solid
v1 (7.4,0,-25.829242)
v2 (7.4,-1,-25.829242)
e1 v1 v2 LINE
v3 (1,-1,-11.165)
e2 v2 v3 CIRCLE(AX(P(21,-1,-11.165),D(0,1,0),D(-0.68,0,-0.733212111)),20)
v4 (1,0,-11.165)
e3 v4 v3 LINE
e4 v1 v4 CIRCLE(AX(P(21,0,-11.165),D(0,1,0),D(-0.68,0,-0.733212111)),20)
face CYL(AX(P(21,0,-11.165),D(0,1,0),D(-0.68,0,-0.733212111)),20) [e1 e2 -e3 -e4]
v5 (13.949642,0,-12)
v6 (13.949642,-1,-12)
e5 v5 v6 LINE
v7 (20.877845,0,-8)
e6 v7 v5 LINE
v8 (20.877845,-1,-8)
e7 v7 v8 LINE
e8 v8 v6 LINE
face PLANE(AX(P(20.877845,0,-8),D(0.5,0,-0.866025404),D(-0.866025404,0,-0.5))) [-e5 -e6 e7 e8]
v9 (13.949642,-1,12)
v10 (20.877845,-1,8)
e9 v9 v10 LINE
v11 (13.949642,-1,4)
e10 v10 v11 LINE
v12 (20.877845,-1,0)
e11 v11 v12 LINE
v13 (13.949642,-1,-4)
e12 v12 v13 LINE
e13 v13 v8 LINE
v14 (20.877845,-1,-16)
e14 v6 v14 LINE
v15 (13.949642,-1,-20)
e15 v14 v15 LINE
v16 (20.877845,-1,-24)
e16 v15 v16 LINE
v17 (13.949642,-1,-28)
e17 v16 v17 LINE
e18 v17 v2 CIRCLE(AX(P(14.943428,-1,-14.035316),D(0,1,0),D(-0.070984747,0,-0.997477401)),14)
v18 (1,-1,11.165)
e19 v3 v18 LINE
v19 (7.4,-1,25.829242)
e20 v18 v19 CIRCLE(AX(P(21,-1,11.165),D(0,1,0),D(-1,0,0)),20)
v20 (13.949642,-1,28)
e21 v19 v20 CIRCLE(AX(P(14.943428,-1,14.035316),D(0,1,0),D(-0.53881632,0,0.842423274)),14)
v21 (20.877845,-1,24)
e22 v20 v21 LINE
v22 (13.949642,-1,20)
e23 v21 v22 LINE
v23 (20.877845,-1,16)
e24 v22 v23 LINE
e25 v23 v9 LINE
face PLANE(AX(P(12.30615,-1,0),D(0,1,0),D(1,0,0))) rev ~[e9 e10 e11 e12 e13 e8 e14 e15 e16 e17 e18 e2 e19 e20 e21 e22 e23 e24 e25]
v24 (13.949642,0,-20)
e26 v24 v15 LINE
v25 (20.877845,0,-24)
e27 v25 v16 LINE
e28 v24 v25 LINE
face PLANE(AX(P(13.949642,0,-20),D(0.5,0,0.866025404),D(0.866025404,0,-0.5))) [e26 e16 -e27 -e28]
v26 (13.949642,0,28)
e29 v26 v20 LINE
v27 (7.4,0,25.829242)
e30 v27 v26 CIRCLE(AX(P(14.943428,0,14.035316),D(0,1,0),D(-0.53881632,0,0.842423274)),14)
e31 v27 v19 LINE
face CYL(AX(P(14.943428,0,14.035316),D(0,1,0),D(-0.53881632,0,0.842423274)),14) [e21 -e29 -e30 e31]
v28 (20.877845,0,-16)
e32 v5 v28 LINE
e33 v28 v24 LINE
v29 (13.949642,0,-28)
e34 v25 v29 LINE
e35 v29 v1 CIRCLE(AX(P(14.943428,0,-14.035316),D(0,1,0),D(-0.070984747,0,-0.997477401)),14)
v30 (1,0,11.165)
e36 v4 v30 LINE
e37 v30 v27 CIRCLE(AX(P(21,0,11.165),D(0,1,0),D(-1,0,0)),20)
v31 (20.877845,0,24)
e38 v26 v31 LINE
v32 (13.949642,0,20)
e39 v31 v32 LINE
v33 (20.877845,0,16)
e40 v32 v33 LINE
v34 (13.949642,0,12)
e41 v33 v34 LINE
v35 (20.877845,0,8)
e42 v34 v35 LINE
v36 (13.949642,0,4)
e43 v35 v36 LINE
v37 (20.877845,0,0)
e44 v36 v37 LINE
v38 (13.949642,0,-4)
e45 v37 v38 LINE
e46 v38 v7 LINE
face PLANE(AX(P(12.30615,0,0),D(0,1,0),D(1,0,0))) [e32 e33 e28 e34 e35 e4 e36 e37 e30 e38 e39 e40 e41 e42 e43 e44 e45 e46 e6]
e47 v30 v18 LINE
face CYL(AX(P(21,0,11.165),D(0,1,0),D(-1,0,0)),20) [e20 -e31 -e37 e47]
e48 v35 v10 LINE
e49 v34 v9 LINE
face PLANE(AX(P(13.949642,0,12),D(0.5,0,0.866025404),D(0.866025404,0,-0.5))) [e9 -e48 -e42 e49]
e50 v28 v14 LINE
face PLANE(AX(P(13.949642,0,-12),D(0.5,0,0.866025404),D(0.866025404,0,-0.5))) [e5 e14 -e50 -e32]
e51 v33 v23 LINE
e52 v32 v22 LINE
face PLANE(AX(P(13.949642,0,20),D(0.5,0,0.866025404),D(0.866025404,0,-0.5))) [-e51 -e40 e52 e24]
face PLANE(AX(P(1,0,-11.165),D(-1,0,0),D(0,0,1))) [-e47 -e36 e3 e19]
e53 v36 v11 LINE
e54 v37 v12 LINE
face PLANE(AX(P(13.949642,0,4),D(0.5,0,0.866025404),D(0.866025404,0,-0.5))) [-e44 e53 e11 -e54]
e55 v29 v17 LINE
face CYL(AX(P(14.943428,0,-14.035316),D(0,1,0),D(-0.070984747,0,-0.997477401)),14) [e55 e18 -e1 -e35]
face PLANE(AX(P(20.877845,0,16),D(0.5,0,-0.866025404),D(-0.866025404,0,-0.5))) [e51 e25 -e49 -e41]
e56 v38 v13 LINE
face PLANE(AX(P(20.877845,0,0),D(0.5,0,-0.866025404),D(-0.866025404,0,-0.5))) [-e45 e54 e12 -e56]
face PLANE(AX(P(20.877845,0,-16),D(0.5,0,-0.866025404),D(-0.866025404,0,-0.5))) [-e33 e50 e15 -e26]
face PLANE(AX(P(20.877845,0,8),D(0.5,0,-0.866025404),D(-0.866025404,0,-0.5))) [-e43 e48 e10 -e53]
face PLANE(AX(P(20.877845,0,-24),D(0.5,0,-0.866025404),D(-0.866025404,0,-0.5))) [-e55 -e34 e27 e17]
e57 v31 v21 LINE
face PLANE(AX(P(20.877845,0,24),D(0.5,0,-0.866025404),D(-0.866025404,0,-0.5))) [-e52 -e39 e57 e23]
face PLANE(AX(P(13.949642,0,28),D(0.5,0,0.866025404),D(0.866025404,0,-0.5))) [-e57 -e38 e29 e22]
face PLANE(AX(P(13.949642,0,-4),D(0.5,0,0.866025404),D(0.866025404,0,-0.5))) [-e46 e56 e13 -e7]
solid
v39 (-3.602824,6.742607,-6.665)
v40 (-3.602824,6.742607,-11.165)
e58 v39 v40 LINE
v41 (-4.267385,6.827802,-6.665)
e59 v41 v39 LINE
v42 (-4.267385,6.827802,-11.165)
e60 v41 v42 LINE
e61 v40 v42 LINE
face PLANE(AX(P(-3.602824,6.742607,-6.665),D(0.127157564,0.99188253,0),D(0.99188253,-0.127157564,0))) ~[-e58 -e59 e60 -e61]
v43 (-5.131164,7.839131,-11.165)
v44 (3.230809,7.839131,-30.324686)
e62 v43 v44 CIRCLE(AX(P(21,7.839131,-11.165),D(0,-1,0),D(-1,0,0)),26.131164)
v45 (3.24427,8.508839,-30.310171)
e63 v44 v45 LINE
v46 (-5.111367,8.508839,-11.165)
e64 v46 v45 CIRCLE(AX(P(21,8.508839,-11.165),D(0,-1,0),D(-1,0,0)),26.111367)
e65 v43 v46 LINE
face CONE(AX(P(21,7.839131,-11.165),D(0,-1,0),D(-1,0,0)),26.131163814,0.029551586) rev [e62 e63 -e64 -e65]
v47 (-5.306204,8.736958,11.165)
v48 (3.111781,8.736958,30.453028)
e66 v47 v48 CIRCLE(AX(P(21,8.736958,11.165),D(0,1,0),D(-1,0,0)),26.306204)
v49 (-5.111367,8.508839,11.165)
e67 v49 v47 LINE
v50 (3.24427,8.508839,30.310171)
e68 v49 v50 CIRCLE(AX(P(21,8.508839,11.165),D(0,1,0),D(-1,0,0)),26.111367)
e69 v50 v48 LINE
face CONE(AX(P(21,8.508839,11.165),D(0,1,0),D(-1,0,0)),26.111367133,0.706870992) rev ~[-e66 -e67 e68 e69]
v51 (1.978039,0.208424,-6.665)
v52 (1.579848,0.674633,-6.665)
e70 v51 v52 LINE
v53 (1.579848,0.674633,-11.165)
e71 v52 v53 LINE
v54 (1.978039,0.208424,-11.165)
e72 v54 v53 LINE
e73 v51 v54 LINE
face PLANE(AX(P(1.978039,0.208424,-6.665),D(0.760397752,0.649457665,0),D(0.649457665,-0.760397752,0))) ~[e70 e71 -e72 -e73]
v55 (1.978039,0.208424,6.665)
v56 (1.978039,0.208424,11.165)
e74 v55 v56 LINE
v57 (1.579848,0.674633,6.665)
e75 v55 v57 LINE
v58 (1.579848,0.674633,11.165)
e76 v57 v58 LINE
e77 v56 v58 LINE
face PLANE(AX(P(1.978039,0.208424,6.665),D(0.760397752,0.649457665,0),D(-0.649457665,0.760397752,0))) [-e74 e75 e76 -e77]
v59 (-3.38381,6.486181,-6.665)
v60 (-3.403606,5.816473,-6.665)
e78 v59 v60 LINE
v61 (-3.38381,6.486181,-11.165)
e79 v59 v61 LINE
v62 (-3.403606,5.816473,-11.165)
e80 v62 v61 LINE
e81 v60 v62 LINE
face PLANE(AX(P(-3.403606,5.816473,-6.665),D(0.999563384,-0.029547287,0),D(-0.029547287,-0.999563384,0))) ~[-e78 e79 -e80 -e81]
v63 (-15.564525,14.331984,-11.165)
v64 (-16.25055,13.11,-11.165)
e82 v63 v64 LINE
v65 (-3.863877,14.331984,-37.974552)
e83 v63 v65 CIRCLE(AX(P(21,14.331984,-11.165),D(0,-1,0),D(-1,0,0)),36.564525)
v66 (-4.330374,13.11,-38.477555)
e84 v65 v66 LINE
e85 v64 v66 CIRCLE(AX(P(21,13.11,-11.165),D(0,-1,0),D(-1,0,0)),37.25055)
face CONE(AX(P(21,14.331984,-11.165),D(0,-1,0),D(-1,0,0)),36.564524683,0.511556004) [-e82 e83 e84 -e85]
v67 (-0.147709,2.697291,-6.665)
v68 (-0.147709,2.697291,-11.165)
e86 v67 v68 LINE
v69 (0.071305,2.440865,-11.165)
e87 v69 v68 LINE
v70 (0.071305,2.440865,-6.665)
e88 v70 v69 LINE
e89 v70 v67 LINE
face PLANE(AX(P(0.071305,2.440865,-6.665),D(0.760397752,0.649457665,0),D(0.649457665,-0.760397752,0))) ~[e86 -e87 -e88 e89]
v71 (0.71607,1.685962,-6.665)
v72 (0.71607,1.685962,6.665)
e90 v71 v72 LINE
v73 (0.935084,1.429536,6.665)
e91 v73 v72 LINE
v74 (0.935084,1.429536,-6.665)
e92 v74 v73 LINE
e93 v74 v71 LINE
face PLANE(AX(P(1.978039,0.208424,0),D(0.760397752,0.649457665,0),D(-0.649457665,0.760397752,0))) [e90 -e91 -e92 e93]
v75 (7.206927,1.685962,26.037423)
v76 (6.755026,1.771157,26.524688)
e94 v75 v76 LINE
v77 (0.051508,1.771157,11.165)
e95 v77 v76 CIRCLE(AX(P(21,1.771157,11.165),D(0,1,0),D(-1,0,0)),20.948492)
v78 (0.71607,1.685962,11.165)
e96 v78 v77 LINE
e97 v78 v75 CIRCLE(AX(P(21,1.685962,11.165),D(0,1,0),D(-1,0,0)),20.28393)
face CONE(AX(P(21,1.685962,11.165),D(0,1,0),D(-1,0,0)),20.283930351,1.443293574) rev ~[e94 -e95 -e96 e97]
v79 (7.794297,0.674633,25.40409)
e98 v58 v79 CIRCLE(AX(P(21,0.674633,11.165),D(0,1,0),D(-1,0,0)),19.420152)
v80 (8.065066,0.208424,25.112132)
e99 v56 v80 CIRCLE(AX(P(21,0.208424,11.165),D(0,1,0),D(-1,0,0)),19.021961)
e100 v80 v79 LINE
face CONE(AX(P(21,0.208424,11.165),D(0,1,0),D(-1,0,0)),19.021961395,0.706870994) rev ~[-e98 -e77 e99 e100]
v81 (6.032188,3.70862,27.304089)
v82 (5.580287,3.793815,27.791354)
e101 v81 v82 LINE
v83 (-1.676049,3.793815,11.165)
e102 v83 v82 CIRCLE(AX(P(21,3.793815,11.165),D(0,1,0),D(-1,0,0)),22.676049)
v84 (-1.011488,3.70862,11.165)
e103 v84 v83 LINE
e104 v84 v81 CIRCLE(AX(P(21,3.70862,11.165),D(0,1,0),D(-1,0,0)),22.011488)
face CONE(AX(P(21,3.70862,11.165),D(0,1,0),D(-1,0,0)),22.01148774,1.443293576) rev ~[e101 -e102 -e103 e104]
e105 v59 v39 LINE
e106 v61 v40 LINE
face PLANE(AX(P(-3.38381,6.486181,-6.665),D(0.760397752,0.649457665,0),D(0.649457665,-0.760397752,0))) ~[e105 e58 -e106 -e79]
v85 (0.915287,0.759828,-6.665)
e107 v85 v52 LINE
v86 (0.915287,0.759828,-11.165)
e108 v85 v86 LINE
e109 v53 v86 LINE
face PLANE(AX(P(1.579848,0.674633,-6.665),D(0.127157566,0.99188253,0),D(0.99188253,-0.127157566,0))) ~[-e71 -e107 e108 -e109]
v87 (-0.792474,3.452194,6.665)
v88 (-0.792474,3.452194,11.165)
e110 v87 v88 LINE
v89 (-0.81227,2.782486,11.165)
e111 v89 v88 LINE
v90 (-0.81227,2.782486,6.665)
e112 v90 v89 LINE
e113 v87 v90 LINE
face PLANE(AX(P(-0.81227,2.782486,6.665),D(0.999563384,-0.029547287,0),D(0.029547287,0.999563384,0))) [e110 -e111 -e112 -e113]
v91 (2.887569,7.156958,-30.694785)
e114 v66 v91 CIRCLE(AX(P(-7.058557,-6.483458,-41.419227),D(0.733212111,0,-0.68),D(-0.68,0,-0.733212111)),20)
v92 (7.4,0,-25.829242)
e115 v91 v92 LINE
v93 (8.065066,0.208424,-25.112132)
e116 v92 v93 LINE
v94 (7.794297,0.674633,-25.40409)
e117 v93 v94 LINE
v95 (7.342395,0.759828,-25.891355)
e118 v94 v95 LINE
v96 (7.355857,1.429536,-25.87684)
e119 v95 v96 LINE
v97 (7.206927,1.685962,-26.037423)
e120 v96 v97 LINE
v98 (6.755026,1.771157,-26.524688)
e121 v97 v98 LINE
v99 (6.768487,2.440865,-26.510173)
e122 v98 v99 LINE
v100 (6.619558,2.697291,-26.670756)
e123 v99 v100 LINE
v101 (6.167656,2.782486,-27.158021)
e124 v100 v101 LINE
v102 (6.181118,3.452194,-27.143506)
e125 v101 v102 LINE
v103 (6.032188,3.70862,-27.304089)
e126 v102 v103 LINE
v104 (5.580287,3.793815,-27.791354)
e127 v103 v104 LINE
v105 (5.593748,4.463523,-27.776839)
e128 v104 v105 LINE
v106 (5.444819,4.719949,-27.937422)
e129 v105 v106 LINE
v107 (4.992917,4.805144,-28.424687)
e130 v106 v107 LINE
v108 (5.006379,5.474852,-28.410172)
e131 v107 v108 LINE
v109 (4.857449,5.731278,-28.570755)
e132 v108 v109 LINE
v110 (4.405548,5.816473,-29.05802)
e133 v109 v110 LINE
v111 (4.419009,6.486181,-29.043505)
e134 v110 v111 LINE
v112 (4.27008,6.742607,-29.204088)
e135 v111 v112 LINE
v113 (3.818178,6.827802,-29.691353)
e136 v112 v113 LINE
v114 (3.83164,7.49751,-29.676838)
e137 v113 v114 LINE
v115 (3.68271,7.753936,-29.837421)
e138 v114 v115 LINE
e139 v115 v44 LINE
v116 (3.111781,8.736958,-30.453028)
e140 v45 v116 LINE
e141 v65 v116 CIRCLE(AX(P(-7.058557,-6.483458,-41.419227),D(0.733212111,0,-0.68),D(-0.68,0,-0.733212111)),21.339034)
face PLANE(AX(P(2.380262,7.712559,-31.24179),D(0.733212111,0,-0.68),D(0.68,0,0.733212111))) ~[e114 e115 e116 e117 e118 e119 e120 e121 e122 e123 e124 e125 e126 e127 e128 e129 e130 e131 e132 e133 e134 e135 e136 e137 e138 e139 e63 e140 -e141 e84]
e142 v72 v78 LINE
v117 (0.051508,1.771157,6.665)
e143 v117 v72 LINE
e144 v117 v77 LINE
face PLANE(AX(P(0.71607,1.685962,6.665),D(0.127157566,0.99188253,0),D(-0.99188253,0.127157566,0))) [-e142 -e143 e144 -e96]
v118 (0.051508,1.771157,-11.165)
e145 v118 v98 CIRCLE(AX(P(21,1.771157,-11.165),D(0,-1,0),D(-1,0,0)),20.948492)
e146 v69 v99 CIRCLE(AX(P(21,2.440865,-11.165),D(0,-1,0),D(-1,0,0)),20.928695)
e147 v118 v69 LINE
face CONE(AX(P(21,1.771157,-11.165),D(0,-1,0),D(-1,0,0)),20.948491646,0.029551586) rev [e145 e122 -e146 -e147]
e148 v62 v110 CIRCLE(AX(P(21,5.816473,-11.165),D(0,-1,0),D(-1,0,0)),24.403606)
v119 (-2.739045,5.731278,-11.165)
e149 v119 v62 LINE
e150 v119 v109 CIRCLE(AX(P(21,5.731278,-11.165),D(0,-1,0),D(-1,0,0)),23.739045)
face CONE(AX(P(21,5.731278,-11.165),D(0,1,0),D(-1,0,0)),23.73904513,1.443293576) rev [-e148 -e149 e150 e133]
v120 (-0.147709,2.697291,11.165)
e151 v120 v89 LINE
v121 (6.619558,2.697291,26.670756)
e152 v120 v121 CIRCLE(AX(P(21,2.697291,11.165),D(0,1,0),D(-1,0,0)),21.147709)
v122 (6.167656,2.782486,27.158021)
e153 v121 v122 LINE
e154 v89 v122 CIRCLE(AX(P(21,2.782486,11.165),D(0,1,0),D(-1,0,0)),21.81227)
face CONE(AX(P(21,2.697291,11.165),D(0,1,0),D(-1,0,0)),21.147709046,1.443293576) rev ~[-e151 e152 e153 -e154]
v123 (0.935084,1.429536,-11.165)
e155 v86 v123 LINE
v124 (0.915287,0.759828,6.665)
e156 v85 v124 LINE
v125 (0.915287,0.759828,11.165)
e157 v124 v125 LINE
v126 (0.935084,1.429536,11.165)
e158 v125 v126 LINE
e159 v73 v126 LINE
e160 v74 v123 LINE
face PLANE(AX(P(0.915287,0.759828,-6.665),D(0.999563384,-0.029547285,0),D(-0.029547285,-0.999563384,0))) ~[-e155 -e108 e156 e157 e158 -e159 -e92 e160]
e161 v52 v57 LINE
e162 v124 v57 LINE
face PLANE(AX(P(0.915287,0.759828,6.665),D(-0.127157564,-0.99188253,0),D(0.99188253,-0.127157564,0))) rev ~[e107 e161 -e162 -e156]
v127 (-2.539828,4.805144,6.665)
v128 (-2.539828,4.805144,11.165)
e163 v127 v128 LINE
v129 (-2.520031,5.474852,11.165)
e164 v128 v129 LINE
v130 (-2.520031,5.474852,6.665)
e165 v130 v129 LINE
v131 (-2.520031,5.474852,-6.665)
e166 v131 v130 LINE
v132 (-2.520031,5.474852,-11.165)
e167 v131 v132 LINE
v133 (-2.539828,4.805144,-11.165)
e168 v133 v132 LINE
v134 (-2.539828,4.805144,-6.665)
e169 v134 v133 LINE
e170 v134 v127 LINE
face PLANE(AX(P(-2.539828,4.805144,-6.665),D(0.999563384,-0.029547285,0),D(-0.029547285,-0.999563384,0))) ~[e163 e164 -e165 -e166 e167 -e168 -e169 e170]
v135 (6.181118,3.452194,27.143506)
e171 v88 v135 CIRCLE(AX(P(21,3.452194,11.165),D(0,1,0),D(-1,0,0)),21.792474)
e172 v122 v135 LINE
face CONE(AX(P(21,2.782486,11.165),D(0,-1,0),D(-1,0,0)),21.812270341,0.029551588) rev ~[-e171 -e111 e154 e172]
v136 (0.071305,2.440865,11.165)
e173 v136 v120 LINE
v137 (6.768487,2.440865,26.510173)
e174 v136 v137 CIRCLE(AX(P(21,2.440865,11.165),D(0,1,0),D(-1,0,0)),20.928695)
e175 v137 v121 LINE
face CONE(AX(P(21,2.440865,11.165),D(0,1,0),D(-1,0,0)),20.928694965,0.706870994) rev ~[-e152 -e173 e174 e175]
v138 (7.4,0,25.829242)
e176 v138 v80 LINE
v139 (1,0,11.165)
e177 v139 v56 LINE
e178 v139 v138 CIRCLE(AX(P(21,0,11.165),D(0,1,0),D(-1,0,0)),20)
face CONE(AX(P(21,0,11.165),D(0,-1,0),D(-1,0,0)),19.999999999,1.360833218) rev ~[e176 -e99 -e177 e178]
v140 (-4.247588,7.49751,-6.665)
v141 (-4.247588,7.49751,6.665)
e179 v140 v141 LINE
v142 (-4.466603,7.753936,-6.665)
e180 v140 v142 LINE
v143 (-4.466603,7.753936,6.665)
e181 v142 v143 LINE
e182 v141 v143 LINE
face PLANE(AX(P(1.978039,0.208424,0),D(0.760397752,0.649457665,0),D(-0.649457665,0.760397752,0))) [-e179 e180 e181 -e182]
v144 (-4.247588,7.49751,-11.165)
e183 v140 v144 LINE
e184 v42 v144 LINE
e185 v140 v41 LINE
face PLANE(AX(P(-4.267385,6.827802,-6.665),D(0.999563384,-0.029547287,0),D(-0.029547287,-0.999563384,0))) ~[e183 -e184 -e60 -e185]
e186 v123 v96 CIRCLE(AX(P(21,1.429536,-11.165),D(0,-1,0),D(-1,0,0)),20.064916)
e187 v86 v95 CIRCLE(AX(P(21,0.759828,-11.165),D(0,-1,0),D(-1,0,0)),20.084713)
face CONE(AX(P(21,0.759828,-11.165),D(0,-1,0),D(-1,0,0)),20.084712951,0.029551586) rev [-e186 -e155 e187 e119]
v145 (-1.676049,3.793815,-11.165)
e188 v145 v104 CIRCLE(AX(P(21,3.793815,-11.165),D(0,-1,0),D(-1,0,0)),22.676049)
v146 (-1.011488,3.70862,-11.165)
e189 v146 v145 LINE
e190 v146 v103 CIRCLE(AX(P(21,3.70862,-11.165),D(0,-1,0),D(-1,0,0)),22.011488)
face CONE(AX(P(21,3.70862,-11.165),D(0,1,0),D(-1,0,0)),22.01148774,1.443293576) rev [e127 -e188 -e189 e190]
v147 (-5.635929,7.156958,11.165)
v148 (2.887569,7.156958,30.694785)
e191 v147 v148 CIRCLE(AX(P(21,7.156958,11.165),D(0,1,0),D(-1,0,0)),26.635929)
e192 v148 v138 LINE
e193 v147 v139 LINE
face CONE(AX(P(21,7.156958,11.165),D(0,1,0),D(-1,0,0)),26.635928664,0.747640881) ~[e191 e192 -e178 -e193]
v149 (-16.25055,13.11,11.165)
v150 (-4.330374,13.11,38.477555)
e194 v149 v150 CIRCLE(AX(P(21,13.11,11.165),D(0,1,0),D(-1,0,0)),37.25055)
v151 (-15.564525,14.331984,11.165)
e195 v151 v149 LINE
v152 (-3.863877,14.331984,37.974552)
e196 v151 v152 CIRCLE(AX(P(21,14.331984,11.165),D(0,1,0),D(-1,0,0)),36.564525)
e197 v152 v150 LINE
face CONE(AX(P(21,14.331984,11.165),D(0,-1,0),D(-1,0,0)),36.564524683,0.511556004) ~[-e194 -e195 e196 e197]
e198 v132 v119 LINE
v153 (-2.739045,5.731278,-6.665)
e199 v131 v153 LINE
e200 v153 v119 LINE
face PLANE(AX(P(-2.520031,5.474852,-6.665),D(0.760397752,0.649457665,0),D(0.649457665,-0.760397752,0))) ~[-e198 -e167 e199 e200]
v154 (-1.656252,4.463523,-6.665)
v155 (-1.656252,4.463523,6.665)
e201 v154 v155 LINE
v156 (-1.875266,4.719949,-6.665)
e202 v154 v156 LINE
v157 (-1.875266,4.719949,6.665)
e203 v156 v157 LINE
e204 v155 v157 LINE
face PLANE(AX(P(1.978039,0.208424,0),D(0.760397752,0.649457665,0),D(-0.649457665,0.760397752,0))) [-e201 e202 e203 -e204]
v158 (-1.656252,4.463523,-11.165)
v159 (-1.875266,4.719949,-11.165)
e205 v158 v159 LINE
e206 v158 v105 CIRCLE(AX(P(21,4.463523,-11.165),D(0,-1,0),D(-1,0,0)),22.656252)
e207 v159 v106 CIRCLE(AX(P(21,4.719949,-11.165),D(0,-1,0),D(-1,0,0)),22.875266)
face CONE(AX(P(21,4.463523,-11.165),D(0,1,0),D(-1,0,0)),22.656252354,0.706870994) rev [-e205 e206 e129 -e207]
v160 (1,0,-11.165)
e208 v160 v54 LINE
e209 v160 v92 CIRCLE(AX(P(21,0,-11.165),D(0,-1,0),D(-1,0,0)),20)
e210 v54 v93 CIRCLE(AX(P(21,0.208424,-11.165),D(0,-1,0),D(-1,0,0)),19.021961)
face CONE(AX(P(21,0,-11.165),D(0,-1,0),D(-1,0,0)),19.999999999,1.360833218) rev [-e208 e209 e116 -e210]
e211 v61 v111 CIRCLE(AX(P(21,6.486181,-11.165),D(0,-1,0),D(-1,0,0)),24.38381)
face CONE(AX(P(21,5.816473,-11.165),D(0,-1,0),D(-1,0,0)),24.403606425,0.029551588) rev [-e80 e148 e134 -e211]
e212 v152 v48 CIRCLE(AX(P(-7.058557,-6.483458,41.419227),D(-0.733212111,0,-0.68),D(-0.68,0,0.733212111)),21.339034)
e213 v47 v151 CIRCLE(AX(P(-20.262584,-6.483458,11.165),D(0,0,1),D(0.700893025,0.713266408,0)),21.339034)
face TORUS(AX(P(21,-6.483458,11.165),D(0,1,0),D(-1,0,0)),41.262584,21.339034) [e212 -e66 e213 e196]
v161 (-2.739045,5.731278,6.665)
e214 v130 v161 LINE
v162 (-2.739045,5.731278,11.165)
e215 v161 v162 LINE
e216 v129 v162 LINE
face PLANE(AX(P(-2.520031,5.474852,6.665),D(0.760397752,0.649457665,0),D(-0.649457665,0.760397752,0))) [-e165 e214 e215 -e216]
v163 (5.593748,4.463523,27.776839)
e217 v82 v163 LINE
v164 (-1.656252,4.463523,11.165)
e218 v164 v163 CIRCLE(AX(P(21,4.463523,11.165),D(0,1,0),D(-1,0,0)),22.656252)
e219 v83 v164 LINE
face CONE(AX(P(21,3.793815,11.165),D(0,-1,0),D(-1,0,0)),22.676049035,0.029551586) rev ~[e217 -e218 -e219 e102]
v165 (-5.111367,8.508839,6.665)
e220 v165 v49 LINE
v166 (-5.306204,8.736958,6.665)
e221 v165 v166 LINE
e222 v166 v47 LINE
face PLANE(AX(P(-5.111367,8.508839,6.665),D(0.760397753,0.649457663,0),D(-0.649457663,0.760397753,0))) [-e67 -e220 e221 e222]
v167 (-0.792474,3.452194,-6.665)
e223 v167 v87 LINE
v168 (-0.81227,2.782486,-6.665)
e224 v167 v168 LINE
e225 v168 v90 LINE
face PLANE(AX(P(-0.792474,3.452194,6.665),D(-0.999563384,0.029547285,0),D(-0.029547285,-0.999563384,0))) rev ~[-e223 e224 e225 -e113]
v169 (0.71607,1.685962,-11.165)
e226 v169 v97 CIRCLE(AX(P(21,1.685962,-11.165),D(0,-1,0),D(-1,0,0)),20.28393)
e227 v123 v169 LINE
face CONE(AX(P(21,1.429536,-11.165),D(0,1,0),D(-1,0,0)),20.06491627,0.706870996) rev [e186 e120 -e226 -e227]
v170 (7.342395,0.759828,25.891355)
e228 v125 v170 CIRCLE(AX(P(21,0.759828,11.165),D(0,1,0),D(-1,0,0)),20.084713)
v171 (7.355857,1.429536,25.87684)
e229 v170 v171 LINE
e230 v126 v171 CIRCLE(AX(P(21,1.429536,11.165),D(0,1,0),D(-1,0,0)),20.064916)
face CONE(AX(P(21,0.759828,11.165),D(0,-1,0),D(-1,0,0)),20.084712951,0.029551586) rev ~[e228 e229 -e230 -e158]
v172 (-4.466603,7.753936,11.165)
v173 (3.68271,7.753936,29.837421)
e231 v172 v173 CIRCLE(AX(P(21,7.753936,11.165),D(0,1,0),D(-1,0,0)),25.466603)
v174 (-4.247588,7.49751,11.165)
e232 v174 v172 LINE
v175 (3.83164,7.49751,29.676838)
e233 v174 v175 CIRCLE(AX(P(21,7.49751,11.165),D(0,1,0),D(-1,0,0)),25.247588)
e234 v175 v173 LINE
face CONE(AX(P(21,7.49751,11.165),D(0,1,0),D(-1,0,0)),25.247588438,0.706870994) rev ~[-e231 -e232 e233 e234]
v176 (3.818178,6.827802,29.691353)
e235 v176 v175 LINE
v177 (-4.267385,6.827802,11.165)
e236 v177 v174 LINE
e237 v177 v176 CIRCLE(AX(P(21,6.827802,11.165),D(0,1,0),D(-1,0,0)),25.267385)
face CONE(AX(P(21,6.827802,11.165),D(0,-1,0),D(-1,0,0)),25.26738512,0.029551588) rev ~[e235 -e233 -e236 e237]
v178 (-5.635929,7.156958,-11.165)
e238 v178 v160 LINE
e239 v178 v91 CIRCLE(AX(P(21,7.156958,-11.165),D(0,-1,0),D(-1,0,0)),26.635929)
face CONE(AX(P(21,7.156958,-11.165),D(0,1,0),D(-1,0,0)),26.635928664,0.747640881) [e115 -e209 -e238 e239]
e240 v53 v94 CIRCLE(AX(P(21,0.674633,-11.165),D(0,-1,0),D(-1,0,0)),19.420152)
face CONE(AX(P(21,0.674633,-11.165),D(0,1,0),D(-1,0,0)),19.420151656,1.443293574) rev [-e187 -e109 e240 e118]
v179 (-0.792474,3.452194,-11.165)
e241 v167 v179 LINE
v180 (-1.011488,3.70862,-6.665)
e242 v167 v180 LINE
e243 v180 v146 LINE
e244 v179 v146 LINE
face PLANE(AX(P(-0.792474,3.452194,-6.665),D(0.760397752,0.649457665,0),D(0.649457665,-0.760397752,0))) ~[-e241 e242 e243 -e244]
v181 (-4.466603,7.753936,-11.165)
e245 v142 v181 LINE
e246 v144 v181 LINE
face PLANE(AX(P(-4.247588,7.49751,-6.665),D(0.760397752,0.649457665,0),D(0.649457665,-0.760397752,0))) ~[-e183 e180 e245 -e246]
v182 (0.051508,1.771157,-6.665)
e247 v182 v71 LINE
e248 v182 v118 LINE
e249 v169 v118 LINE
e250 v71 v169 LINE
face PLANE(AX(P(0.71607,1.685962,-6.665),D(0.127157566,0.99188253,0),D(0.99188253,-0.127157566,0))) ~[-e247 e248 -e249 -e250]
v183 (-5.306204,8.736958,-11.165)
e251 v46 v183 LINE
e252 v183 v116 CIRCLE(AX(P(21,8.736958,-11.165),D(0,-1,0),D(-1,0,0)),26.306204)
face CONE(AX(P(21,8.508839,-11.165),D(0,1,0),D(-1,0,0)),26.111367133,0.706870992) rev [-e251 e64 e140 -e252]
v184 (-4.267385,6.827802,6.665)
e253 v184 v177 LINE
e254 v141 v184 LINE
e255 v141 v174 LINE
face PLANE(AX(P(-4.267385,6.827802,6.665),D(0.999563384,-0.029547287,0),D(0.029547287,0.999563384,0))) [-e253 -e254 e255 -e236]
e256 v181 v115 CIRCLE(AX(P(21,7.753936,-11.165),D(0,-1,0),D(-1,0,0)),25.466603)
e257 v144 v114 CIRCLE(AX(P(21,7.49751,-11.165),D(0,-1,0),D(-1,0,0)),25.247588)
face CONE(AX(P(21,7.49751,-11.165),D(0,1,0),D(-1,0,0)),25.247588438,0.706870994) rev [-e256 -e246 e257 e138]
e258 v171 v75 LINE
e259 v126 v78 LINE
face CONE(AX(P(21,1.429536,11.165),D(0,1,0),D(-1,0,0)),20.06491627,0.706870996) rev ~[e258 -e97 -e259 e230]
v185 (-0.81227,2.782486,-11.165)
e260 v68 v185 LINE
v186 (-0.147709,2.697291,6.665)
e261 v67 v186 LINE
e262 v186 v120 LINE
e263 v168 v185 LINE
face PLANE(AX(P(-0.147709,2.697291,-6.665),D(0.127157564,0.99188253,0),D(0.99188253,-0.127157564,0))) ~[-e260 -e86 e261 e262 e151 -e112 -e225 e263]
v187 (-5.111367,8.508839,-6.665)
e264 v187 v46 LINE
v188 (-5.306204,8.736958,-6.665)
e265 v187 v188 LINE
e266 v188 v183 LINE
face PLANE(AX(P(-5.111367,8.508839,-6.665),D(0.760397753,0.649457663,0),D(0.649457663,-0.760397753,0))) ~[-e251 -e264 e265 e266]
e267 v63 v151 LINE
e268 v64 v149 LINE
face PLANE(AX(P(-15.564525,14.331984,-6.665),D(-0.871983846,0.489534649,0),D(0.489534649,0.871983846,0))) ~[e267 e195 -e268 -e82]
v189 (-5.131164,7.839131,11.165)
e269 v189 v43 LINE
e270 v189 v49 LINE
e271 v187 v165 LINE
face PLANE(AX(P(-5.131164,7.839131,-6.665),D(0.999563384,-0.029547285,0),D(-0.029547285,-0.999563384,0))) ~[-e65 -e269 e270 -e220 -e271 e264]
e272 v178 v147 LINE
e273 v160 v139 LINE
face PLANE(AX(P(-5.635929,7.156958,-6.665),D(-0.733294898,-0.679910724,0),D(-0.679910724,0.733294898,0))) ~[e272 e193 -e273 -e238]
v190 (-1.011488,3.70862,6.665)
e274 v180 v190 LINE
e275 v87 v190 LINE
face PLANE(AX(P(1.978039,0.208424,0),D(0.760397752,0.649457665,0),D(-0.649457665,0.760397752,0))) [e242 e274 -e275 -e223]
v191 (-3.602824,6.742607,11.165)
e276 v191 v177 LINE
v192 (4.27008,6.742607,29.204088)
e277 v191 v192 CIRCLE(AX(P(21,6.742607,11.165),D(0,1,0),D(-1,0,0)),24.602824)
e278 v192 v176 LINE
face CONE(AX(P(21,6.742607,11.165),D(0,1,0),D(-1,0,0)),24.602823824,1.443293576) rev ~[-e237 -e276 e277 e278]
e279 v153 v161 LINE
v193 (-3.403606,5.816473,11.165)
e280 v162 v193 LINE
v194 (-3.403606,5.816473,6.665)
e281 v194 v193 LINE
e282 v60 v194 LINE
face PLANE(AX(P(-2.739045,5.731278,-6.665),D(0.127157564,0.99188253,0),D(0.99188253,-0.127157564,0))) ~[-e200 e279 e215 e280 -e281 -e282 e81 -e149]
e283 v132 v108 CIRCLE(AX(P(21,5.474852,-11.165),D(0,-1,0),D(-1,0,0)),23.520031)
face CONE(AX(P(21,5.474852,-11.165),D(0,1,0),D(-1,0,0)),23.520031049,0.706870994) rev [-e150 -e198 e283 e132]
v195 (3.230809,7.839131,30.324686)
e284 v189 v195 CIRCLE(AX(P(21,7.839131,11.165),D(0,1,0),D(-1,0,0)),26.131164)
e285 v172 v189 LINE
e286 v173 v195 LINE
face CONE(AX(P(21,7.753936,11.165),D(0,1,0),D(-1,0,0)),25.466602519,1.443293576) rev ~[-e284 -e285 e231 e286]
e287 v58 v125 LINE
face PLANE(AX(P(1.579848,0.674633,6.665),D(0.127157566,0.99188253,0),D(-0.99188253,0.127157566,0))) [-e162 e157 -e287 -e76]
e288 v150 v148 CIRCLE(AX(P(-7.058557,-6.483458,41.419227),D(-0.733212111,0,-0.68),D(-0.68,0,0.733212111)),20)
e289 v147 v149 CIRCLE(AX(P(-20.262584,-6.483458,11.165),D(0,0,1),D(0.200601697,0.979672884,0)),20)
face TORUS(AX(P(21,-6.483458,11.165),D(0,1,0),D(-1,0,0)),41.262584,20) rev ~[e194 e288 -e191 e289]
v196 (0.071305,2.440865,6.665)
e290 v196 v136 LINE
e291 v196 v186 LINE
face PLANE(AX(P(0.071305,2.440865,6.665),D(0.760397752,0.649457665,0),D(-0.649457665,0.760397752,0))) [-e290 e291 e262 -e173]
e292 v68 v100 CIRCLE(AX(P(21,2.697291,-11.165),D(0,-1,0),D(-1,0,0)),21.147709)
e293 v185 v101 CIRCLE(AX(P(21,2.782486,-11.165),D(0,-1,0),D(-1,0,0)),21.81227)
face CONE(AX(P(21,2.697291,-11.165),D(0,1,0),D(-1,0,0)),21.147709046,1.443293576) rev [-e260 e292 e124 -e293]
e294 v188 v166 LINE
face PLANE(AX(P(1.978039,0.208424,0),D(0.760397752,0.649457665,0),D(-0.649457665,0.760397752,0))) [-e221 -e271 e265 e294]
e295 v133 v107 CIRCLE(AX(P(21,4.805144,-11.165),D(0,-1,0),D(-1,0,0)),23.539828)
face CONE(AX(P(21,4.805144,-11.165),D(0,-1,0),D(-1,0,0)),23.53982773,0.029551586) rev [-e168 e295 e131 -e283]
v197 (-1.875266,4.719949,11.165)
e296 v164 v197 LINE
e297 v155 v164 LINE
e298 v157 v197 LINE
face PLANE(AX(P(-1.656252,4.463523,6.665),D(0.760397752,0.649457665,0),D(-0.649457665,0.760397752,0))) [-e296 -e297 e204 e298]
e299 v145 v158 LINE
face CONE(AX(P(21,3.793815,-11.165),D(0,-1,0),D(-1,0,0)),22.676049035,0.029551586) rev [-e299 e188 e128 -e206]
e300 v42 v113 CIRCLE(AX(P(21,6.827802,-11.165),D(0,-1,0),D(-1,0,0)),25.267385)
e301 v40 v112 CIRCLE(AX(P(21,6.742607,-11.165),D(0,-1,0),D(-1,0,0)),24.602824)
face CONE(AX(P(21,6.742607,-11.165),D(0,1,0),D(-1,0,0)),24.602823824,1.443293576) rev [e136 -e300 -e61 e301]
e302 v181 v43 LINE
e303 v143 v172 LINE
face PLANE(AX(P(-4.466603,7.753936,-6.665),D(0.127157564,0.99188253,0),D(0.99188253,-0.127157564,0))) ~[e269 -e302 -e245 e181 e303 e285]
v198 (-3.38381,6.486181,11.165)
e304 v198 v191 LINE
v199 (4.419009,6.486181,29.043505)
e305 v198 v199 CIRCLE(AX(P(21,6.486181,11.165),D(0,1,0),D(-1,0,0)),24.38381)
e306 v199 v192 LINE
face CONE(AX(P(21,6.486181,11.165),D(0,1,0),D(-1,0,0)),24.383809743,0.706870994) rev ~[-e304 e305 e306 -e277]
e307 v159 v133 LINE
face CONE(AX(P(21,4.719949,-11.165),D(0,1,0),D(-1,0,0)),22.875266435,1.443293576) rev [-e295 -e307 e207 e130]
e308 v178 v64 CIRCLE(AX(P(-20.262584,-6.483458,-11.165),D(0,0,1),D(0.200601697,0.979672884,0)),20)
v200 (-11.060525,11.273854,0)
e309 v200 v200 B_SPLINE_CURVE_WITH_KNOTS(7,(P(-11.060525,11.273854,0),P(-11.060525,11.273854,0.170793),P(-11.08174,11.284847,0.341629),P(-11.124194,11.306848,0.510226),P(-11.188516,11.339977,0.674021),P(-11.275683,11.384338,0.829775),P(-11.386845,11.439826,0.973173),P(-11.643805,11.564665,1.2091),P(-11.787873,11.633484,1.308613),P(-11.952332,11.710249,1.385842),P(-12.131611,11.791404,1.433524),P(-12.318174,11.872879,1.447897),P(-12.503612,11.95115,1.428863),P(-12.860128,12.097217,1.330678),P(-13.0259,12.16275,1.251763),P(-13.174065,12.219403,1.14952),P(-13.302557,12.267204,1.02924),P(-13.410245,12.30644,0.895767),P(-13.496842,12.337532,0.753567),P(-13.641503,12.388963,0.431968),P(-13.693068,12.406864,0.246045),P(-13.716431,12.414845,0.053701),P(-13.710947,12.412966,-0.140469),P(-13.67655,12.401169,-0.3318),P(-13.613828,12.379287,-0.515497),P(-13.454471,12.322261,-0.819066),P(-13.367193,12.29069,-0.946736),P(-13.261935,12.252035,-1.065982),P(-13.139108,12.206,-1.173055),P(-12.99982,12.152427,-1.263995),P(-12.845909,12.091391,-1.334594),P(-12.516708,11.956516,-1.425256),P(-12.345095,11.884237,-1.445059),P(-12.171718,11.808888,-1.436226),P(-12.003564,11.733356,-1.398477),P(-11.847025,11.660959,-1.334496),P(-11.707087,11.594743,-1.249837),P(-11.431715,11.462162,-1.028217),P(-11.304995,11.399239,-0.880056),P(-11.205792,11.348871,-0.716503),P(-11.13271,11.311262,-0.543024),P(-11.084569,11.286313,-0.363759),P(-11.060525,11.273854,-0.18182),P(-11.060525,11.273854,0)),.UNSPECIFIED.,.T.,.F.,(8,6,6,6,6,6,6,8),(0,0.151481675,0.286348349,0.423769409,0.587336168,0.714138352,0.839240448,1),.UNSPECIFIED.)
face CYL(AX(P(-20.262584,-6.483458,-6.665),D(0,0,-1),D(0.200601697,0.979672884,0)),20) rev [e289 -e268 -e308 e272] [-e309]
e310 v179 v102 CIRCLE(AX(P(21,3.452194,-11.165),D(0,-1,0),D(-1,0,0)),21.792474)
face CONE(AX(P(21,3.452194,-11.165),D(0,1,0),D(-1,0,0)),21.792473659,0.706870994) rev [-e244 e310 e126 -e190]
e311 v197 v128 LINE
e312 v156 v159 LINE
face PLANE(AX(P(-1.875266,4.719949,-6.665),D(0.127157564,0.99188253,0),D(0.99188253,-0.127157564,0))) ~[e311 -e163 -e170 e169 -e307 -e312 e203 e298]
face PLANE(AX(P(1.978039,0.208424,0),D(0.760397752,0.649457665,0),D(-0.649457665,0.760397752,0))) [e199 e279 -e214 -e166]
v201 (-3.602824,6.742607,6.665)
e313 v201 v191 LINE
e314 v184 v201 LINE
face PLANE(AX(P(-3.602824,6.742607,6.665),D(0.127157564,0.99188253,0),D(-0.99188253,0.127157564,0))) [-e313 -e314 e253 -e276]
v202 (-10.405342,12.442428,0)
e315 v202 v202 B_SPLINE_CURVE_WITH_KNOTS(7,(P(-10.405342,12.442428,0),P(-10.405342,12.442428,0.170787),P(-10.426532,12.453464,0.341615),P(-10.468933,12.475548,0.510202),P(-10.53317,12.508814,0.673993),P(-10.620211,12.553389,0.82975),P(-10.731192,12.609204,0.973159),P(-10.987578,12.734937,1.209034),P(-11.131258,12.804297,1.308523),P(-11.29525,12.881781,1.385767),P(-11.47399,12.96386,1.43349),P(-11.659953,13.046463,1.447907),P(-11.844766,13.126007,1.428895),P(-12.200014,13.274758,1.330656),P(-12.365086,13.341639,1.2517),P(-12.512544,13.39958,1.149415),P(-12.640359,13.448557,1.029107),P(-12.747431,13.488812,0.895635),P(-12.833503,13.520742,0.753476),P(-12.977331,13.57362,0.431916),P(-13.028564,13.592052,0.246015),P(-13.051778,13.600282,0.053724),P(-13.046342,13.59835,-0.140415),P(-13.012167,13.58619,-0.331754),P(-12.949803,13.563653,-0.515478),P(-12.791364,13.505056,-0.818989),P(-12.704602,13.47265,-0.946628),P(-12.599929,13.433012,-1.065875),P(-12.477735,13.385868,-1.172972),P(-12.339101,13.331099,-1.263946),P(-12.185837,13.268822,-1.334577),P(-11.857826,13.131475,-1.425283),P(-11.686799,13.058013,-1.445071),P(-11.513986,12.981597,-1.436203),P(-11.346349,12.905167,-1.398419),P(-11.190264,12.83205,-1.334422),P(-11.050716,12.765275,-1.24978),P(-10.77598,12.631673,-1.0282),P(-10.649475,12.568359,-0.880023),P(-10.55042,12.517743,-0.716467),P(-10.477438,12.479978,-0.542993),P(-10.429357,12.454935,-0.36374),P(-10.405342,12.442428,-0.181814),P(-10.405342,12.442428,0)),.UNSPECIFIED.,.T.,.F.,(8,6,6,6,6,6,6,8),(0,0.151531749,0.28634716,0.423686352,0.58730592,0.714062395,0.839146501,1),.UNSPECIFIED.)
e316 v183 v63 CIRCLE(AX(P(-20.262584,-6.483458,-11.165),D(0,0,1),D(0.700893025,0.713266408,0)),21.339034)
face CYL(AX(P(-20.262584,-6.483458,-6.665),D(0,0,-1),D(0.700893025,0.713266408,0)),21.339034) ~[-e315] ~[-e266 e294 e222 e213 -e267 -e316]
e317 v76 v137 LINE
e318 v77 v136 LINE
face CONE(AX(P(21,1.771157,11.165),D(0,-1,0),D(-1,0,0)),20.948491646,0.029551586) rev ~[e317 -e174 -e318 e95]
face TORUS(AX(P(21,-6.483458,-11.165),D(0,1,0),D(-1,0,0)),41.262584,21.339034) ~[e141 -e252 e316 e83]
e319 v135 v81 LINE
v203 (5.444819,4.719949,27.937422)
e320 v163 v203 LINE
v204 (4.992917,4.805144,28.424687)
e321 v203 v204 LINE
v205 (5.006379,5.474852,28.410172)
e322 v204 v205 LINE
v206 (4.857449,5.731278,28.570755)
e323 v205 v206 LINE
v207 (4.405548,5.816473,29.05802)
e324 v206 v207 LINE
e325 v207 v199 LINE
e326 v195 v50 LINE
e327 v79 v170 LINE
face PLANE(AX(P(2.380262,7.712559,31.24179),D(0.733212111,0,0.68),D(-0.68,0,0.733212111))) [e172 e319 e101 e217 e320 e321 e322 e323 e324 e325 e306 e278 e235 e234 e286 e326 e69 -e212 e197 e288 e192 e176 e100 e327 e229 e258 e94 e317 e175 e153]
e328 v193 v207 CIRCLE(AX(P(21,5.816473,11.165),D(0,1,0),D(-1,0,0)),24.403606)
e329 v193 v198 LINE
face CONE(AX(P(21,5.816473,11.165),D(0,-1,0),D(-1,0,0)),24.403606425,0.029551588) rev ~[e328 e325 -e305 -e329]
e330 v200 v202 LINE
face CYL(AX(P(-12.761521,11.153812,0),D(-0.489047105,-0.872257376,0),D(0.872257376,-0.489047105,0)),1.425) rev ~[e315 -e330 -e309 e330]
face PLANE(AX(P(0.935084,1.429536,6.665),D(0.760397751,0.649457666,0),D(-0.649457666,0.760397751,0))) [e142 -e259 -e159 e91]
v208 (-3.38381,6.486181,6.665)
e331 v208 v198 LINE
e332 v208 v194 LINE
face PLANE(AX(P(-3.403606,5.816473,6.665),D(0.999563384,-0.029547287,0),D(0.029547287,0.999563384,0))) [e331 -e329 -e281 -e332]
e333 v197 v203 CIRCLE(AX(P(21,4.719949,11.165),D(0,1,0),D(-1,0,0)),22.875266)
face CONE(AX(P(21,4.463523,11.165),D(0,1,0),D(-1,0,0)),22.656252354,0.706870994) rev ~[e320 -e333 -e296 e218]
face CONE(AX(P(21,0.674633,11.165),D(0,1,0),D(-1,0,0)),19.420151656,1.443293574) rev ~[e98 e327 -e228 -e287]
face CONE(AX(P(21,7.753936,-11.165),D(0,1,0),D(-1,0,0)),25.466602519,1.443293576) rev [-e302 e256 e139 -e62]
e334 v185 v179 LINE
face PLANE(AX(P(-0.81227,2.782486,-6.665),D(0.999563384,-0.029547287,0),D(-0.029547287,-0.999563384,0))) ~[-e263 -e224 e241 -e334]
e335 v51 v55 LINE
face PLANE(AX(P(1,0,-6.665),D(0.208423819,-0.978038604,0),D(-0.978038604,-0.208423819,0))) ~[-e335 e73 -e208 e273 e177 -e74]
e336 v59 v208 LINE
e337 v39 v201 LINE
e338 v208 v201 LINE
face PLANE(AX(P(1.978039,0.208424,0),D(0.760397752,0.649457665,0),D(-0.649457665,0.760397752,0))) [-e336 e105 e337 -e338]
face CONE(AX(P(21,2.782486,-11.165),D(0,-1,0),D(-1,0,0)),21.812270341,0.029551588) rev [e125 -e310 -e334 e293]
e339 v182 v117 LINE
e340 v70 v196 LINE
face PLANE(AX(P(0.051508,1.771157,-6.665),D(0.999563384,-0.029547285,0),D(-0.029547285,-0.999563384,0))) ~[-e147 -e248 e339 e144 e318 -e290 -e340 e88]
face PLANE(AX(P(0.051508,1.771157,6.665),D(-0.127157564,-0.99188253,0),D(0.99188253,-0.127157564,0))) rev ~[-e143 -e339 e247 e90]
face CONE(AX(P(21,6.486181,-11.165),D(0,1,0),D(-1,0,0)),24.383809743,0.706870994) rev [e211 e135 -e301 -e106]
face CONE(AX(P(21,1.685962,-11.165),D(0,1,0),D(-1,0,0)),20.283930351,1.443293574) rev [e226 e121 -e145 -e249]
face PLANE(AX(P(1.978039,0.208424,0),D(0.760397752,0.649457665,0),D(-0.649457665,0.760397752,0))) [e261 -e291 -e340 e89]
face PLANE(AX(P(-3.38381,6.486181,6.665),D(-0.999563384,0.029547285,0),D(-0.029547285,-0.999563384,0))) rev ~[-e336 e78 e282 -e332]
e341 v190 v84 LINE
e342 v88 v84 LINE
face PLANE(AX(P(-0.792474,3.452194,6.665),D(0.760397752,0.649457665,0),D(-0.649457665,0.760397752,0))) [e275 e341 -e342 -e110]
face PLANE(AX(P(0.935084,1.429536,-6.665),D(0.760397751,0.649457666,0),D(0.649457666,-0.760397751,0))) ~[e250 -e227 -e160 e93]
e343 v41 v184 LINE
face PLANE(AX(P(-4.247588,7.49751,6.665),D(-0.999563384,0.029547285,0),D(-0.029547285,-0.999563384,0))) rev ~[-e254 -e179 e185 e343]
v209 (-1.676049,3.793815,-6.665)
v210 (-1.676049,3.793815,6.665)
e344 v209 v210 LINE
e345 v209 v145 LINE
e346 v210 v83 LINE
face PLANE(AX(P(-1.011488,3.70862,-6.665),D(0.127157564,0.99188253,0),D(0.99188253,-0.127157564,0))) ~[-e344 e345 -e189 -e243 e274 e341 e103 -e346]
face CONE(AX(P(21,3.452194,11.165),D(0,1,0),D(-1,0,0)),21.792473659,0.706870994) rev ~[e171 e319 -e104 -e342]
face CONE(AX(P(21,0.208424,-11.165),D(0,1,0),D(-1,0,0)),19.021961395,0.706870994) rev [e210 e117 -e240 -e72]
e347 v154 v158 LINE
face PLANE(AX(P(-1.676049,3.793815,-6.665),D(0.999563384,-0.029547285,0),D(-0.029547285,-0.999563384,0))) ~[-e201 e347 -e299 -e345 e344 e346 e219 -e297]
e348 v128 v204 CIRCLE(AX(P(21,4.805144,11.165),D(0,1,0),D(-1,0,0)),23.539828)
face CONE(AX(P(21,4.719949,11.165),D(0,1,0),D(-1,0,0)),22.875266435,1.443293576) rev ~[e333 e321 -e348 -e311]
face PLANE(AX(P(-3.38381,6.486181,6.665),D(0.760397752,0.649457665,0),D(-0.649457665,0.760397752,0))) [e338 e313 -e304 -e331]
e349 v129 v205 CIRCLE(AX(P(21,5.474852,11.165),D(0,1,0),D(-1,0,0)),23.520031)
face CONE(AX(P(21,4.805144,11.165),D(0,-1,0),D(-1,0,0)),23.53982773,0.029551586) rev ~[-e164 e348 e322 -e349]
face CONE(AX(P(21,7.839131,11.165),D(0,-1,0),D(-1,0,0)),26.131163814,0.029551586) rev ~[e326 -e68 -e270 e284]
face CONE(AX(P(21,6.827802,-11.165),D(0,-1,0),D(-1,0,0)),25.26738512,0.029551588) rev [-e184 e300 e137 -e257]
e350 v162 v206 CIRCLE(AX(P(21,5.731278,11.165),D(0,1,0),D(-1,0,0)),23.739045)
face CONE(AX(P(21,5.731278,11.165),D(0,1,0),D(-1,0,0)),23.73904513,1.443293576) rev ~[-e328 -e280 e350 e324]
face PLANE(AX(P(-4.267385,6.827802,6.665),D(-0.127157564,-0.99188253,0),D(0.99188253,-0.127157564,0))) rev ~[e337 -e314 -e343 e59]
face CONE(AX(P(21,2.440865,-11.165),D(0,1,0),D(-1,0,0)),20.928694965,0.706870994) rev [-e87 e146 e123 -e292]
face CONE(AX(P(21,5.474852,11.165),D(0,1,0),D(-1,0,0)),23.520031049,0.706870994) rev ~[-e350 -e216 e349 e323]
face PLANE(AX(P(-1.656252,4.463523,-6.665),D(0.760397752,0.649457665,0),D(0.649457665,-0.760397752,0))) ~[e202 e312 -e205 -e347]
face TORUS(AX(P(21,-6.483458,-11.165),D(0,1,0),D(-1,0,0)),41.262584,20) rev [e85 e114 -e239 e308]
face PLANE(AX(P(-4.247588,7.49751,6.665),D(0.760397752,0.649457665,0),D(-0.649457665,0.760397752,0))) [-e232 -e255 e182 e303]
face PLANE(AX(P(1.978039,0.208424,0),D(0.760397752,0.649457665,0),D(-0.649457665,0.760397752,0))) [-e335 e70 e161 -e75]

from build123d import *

# Parameters (mm, degrees)
BOSS_EXTRUDE1_DEPTH = 6.665
CUT_EXTRUDE2_DEPTH  = 26.439635203
LPATTERN1_COUNT     = 8
LPATTERN1_PITCH     = 1.33
BOSS_EXTRUDE2_DEPTH = 1
SKETCH12_R          = 1.425
CUT_EXTRUDE4_DEPTH  = 68.19127885


with BuildPart() as part:
    # Sketch1 → Boss-Extrude1 (new, symmetric)
    with BuildSketch(Plane.XY):
        with BuildLine():
            Line((-5.635928665, 7.156958206), (1, 0))
            Line((1, 0), (1.978038604, 0.208423819))
            Line((1.978038604, 0.208423819), (-5.306204433, 8.736958206))
            ThreePointArc((-5.306204433, 8.736958206), (-10.044936575, 12.250309514), (-15.564524684, 14.33198356))
            Line((-15.564524684, 14.33198356), (-16.250550344, 13.11))
            ThreePointArc((-16.250550344, 13.11), (-10.479442469, 10.960456342), (-5.635928665, 7.156958206))
        make_face()
    extrude(amount=BOSS_EXTRUDE1_DEPTH, both=True)

    # Sketch2 → Cut-Extrude2 (cut, symmetric)
    with BuildSketch(Plane.XY.offset(6.665)):
        Polygon((-3.982294286, 46.704559607), (-5.111367134, 8.50883888), (-5.131163815, 7.839131413), (-4.46660252, 7.753935845), (33.435614326, 2.894939498), (91.54886787, 52.52961802), (54.130959258, 96.339238129), align=None)
    cut_extrude2 = extrude(amount=CUT_EXTRUDE2_DEPTH, both=True, mode=Mode.SUBTRACT)

    # LPattern1: Cut-Extrude2 ×8
    with Locations(*[Vector(0.6494576652092012, -0.7603977519042342, 0) * (i * LPATTERN1_PITCH) for i in range(1, LPATTERN1_COUNT)]):
        add(cut_extrude2, mode=Mode.SUBTRACT)

    # Sweep1: sweep along a path in Sketch5
    with BuildLine(Plane(origin=(0, 0, 0), x_dir=(1, 0, 0), z_dir=(0, 1, 0))) as sweep1_path:
        Line((1, -6.665), (1, -11.165))
        ThreePointArc((1, -11.165), (2.66969722, -19.165), (7.4, -25.829242224))
    # Sketch3 → Sweep1 (sweep)
    with BuildSketch(Plane.XY.offset(6.665)):
        with BuildLine():
            Line((-5.111367134, 8.50883888), (-5.306204433, 8.736958206))
            ThreePointArc((-5.306204433, 8.736958206), (-10.044936575, 12.250309514), (-15.564524684, 14.33198356))
            Line((-15.564524684, 14.33198356), (-16.250550344, 13.11))
            ThreePointArc((-16.250550344, 13.11), (-10.479442469, 10.960456342), (-5.635928665, 7.156958206))
            Line((-5.635928665, 7.156958206), (1, 0))
            Line((1, 0), (1.978038604, 0.208423819))
            Line((1.978038604, 0.208423819), (1.579848343, 0.674632774))
            Line((1.579848343, 0.674632774), (0.915287048, 0.759828343))
            Line((0.915287048, 0.759828343), (0.935083729, 1.42953581))
            Line((0.935083729, 1.42953581), (0.716069648, 1.685961784))
            Line((0.716069648, 1.685961784), (0.051508353, 1.771157353))
            Line((0.051508353, 1.771157353), (0.071305034, 2.44086482))
            Line((0.071305034, 2.44086482), (-0.147709047, 2.697290795))
            Line((-0.147709047, 2.697290795), (-0.812270342, 2.782486363))
            Line((-0.812270342, 2.782486363), (-0.79247366, 3.45219383))
            Line((-0.79247366, 3.45219383), (-1.011487741, 3.708619805))
            Line((-1.011487741, 3.708619805), (-1.676049036, 3.793815373))
            Line((-1.676049036, 3.793815373), (-1.656252355, 4.46352284))
            Line((-1.656252355, 4.46352284), (-1.875266436, 4.719948815))
            Line((-1.875266436, 4.719948815), (-2.539827731, 4.805144383))
            Line((-2.539827731, 4.805144383), (-2.52003105, 5.47485185))
            Line((-2.52003105, 5.47485185), (-2.739045131, 5.731277825))
            Line((-2.739045131, 5.731277825), (-3.403606426, 5.816473393))
            Line((-3.403606426, 5.816473393), (-3.383809744, 6.48618086))
            Line((-3.383809744, 6.48618086), (-3.602823825, 6.742606835))
            Line((-3.602823825, 6.742606835), (-4.267385121, 6.827802403))
            Line((-4.267385121, 6.827802403), (-4.247588439, 7.49750987))
            Line((-4.247588439, 7.49750987), (-4.46660252, 7.753935845))
            Line((-4.46660252, 7.753935845), (-5.131163815, 7.839131413))
            Line((-5.131163815, 7.839131413), (-5.111367134, 8.50883888))
        make_face()
    sweep1 = sweep(path=sweep1_path.line)

    # Mirror1: Sweep1 across plane
    add(sweep1.mirror(Plane.XY))

    # Sketch12 → Cut-Extrude4 (cut, through all)
    with BuildSketch(Plane(origin=(-25.092317038, 18.067298753, 6.665), x_dir=(-0.8722573757239733, 0.4890471045769798, 0), z_dir=(-0.4890471045769798, -0.8722573757239733, 0))):
        with Locations(Location((-14.136648815, 6.665, 0), (0, 0, 180))):
            Circle(SKETCH12_R)
    extrude(amount=-CUT_EXTRUDE4_DEPTH, mode=Mode.SUBTRACT)


with BuildPart() as body_2:
    # Sketch9 → Boss-Extrude2 (new body)
    with BuildSketch(Plane(origin=(0, 0, 0), x_dir=(1, 0, 0), z_dir=(0, 1, 0))):
        with BuildLine():
            Line((13.949642027, 20), (20.877845257, 24))
            Line((20.877845257, 24), (13.949642027, 28))
            ThreePointArc((13.949642027, 28), (10.538992417, 27.324445134), (7.4, 25.829242224))
            ThreePointArc((7.4, 25.829242224), (2.66969722, 19.165), (1, 11.165))
            Line((1, 11.165), (1, -11.165))
            ThreePointArc((1, -11.165), (2.66969722, -19.165), (7.4, -25.829242224))
            ThreePointArc((7.4, -25.829242224), (10.538992417, -27.324445134), (13.949642027, -28))
            Line((13.949642027, -28), (20.877845257, -24))
            Line((20.877845257, -24), (13.949642027, -20))
            Line((13.949642027, -20), (20.877845257, -16))
            Line((20.877845257, -16), (13.949642027, -12))
            Line((13.949642027, -12), (20.877845257, -8))
            Line((20.877845257, -8), (13.949642027, -4))
            Line((13.949642027, -4), (20.877845257, 0))
            Line((20.877845257, 0), (13.949642027, 4))
            Line((13.949642027, 4), (20.877845257, 8))
            Line((20.877845257, 8), (13.949642027, 12))
            Line((13.949642027, 12), (20.877845257, 16))
            Line((20.877845257, 16), (13.949642027, 20))
        make_face()
    extrude(amount=-BOSS_EXTRUDE2_DEPTH)


solid = Compound([part.part, body_2.part])
